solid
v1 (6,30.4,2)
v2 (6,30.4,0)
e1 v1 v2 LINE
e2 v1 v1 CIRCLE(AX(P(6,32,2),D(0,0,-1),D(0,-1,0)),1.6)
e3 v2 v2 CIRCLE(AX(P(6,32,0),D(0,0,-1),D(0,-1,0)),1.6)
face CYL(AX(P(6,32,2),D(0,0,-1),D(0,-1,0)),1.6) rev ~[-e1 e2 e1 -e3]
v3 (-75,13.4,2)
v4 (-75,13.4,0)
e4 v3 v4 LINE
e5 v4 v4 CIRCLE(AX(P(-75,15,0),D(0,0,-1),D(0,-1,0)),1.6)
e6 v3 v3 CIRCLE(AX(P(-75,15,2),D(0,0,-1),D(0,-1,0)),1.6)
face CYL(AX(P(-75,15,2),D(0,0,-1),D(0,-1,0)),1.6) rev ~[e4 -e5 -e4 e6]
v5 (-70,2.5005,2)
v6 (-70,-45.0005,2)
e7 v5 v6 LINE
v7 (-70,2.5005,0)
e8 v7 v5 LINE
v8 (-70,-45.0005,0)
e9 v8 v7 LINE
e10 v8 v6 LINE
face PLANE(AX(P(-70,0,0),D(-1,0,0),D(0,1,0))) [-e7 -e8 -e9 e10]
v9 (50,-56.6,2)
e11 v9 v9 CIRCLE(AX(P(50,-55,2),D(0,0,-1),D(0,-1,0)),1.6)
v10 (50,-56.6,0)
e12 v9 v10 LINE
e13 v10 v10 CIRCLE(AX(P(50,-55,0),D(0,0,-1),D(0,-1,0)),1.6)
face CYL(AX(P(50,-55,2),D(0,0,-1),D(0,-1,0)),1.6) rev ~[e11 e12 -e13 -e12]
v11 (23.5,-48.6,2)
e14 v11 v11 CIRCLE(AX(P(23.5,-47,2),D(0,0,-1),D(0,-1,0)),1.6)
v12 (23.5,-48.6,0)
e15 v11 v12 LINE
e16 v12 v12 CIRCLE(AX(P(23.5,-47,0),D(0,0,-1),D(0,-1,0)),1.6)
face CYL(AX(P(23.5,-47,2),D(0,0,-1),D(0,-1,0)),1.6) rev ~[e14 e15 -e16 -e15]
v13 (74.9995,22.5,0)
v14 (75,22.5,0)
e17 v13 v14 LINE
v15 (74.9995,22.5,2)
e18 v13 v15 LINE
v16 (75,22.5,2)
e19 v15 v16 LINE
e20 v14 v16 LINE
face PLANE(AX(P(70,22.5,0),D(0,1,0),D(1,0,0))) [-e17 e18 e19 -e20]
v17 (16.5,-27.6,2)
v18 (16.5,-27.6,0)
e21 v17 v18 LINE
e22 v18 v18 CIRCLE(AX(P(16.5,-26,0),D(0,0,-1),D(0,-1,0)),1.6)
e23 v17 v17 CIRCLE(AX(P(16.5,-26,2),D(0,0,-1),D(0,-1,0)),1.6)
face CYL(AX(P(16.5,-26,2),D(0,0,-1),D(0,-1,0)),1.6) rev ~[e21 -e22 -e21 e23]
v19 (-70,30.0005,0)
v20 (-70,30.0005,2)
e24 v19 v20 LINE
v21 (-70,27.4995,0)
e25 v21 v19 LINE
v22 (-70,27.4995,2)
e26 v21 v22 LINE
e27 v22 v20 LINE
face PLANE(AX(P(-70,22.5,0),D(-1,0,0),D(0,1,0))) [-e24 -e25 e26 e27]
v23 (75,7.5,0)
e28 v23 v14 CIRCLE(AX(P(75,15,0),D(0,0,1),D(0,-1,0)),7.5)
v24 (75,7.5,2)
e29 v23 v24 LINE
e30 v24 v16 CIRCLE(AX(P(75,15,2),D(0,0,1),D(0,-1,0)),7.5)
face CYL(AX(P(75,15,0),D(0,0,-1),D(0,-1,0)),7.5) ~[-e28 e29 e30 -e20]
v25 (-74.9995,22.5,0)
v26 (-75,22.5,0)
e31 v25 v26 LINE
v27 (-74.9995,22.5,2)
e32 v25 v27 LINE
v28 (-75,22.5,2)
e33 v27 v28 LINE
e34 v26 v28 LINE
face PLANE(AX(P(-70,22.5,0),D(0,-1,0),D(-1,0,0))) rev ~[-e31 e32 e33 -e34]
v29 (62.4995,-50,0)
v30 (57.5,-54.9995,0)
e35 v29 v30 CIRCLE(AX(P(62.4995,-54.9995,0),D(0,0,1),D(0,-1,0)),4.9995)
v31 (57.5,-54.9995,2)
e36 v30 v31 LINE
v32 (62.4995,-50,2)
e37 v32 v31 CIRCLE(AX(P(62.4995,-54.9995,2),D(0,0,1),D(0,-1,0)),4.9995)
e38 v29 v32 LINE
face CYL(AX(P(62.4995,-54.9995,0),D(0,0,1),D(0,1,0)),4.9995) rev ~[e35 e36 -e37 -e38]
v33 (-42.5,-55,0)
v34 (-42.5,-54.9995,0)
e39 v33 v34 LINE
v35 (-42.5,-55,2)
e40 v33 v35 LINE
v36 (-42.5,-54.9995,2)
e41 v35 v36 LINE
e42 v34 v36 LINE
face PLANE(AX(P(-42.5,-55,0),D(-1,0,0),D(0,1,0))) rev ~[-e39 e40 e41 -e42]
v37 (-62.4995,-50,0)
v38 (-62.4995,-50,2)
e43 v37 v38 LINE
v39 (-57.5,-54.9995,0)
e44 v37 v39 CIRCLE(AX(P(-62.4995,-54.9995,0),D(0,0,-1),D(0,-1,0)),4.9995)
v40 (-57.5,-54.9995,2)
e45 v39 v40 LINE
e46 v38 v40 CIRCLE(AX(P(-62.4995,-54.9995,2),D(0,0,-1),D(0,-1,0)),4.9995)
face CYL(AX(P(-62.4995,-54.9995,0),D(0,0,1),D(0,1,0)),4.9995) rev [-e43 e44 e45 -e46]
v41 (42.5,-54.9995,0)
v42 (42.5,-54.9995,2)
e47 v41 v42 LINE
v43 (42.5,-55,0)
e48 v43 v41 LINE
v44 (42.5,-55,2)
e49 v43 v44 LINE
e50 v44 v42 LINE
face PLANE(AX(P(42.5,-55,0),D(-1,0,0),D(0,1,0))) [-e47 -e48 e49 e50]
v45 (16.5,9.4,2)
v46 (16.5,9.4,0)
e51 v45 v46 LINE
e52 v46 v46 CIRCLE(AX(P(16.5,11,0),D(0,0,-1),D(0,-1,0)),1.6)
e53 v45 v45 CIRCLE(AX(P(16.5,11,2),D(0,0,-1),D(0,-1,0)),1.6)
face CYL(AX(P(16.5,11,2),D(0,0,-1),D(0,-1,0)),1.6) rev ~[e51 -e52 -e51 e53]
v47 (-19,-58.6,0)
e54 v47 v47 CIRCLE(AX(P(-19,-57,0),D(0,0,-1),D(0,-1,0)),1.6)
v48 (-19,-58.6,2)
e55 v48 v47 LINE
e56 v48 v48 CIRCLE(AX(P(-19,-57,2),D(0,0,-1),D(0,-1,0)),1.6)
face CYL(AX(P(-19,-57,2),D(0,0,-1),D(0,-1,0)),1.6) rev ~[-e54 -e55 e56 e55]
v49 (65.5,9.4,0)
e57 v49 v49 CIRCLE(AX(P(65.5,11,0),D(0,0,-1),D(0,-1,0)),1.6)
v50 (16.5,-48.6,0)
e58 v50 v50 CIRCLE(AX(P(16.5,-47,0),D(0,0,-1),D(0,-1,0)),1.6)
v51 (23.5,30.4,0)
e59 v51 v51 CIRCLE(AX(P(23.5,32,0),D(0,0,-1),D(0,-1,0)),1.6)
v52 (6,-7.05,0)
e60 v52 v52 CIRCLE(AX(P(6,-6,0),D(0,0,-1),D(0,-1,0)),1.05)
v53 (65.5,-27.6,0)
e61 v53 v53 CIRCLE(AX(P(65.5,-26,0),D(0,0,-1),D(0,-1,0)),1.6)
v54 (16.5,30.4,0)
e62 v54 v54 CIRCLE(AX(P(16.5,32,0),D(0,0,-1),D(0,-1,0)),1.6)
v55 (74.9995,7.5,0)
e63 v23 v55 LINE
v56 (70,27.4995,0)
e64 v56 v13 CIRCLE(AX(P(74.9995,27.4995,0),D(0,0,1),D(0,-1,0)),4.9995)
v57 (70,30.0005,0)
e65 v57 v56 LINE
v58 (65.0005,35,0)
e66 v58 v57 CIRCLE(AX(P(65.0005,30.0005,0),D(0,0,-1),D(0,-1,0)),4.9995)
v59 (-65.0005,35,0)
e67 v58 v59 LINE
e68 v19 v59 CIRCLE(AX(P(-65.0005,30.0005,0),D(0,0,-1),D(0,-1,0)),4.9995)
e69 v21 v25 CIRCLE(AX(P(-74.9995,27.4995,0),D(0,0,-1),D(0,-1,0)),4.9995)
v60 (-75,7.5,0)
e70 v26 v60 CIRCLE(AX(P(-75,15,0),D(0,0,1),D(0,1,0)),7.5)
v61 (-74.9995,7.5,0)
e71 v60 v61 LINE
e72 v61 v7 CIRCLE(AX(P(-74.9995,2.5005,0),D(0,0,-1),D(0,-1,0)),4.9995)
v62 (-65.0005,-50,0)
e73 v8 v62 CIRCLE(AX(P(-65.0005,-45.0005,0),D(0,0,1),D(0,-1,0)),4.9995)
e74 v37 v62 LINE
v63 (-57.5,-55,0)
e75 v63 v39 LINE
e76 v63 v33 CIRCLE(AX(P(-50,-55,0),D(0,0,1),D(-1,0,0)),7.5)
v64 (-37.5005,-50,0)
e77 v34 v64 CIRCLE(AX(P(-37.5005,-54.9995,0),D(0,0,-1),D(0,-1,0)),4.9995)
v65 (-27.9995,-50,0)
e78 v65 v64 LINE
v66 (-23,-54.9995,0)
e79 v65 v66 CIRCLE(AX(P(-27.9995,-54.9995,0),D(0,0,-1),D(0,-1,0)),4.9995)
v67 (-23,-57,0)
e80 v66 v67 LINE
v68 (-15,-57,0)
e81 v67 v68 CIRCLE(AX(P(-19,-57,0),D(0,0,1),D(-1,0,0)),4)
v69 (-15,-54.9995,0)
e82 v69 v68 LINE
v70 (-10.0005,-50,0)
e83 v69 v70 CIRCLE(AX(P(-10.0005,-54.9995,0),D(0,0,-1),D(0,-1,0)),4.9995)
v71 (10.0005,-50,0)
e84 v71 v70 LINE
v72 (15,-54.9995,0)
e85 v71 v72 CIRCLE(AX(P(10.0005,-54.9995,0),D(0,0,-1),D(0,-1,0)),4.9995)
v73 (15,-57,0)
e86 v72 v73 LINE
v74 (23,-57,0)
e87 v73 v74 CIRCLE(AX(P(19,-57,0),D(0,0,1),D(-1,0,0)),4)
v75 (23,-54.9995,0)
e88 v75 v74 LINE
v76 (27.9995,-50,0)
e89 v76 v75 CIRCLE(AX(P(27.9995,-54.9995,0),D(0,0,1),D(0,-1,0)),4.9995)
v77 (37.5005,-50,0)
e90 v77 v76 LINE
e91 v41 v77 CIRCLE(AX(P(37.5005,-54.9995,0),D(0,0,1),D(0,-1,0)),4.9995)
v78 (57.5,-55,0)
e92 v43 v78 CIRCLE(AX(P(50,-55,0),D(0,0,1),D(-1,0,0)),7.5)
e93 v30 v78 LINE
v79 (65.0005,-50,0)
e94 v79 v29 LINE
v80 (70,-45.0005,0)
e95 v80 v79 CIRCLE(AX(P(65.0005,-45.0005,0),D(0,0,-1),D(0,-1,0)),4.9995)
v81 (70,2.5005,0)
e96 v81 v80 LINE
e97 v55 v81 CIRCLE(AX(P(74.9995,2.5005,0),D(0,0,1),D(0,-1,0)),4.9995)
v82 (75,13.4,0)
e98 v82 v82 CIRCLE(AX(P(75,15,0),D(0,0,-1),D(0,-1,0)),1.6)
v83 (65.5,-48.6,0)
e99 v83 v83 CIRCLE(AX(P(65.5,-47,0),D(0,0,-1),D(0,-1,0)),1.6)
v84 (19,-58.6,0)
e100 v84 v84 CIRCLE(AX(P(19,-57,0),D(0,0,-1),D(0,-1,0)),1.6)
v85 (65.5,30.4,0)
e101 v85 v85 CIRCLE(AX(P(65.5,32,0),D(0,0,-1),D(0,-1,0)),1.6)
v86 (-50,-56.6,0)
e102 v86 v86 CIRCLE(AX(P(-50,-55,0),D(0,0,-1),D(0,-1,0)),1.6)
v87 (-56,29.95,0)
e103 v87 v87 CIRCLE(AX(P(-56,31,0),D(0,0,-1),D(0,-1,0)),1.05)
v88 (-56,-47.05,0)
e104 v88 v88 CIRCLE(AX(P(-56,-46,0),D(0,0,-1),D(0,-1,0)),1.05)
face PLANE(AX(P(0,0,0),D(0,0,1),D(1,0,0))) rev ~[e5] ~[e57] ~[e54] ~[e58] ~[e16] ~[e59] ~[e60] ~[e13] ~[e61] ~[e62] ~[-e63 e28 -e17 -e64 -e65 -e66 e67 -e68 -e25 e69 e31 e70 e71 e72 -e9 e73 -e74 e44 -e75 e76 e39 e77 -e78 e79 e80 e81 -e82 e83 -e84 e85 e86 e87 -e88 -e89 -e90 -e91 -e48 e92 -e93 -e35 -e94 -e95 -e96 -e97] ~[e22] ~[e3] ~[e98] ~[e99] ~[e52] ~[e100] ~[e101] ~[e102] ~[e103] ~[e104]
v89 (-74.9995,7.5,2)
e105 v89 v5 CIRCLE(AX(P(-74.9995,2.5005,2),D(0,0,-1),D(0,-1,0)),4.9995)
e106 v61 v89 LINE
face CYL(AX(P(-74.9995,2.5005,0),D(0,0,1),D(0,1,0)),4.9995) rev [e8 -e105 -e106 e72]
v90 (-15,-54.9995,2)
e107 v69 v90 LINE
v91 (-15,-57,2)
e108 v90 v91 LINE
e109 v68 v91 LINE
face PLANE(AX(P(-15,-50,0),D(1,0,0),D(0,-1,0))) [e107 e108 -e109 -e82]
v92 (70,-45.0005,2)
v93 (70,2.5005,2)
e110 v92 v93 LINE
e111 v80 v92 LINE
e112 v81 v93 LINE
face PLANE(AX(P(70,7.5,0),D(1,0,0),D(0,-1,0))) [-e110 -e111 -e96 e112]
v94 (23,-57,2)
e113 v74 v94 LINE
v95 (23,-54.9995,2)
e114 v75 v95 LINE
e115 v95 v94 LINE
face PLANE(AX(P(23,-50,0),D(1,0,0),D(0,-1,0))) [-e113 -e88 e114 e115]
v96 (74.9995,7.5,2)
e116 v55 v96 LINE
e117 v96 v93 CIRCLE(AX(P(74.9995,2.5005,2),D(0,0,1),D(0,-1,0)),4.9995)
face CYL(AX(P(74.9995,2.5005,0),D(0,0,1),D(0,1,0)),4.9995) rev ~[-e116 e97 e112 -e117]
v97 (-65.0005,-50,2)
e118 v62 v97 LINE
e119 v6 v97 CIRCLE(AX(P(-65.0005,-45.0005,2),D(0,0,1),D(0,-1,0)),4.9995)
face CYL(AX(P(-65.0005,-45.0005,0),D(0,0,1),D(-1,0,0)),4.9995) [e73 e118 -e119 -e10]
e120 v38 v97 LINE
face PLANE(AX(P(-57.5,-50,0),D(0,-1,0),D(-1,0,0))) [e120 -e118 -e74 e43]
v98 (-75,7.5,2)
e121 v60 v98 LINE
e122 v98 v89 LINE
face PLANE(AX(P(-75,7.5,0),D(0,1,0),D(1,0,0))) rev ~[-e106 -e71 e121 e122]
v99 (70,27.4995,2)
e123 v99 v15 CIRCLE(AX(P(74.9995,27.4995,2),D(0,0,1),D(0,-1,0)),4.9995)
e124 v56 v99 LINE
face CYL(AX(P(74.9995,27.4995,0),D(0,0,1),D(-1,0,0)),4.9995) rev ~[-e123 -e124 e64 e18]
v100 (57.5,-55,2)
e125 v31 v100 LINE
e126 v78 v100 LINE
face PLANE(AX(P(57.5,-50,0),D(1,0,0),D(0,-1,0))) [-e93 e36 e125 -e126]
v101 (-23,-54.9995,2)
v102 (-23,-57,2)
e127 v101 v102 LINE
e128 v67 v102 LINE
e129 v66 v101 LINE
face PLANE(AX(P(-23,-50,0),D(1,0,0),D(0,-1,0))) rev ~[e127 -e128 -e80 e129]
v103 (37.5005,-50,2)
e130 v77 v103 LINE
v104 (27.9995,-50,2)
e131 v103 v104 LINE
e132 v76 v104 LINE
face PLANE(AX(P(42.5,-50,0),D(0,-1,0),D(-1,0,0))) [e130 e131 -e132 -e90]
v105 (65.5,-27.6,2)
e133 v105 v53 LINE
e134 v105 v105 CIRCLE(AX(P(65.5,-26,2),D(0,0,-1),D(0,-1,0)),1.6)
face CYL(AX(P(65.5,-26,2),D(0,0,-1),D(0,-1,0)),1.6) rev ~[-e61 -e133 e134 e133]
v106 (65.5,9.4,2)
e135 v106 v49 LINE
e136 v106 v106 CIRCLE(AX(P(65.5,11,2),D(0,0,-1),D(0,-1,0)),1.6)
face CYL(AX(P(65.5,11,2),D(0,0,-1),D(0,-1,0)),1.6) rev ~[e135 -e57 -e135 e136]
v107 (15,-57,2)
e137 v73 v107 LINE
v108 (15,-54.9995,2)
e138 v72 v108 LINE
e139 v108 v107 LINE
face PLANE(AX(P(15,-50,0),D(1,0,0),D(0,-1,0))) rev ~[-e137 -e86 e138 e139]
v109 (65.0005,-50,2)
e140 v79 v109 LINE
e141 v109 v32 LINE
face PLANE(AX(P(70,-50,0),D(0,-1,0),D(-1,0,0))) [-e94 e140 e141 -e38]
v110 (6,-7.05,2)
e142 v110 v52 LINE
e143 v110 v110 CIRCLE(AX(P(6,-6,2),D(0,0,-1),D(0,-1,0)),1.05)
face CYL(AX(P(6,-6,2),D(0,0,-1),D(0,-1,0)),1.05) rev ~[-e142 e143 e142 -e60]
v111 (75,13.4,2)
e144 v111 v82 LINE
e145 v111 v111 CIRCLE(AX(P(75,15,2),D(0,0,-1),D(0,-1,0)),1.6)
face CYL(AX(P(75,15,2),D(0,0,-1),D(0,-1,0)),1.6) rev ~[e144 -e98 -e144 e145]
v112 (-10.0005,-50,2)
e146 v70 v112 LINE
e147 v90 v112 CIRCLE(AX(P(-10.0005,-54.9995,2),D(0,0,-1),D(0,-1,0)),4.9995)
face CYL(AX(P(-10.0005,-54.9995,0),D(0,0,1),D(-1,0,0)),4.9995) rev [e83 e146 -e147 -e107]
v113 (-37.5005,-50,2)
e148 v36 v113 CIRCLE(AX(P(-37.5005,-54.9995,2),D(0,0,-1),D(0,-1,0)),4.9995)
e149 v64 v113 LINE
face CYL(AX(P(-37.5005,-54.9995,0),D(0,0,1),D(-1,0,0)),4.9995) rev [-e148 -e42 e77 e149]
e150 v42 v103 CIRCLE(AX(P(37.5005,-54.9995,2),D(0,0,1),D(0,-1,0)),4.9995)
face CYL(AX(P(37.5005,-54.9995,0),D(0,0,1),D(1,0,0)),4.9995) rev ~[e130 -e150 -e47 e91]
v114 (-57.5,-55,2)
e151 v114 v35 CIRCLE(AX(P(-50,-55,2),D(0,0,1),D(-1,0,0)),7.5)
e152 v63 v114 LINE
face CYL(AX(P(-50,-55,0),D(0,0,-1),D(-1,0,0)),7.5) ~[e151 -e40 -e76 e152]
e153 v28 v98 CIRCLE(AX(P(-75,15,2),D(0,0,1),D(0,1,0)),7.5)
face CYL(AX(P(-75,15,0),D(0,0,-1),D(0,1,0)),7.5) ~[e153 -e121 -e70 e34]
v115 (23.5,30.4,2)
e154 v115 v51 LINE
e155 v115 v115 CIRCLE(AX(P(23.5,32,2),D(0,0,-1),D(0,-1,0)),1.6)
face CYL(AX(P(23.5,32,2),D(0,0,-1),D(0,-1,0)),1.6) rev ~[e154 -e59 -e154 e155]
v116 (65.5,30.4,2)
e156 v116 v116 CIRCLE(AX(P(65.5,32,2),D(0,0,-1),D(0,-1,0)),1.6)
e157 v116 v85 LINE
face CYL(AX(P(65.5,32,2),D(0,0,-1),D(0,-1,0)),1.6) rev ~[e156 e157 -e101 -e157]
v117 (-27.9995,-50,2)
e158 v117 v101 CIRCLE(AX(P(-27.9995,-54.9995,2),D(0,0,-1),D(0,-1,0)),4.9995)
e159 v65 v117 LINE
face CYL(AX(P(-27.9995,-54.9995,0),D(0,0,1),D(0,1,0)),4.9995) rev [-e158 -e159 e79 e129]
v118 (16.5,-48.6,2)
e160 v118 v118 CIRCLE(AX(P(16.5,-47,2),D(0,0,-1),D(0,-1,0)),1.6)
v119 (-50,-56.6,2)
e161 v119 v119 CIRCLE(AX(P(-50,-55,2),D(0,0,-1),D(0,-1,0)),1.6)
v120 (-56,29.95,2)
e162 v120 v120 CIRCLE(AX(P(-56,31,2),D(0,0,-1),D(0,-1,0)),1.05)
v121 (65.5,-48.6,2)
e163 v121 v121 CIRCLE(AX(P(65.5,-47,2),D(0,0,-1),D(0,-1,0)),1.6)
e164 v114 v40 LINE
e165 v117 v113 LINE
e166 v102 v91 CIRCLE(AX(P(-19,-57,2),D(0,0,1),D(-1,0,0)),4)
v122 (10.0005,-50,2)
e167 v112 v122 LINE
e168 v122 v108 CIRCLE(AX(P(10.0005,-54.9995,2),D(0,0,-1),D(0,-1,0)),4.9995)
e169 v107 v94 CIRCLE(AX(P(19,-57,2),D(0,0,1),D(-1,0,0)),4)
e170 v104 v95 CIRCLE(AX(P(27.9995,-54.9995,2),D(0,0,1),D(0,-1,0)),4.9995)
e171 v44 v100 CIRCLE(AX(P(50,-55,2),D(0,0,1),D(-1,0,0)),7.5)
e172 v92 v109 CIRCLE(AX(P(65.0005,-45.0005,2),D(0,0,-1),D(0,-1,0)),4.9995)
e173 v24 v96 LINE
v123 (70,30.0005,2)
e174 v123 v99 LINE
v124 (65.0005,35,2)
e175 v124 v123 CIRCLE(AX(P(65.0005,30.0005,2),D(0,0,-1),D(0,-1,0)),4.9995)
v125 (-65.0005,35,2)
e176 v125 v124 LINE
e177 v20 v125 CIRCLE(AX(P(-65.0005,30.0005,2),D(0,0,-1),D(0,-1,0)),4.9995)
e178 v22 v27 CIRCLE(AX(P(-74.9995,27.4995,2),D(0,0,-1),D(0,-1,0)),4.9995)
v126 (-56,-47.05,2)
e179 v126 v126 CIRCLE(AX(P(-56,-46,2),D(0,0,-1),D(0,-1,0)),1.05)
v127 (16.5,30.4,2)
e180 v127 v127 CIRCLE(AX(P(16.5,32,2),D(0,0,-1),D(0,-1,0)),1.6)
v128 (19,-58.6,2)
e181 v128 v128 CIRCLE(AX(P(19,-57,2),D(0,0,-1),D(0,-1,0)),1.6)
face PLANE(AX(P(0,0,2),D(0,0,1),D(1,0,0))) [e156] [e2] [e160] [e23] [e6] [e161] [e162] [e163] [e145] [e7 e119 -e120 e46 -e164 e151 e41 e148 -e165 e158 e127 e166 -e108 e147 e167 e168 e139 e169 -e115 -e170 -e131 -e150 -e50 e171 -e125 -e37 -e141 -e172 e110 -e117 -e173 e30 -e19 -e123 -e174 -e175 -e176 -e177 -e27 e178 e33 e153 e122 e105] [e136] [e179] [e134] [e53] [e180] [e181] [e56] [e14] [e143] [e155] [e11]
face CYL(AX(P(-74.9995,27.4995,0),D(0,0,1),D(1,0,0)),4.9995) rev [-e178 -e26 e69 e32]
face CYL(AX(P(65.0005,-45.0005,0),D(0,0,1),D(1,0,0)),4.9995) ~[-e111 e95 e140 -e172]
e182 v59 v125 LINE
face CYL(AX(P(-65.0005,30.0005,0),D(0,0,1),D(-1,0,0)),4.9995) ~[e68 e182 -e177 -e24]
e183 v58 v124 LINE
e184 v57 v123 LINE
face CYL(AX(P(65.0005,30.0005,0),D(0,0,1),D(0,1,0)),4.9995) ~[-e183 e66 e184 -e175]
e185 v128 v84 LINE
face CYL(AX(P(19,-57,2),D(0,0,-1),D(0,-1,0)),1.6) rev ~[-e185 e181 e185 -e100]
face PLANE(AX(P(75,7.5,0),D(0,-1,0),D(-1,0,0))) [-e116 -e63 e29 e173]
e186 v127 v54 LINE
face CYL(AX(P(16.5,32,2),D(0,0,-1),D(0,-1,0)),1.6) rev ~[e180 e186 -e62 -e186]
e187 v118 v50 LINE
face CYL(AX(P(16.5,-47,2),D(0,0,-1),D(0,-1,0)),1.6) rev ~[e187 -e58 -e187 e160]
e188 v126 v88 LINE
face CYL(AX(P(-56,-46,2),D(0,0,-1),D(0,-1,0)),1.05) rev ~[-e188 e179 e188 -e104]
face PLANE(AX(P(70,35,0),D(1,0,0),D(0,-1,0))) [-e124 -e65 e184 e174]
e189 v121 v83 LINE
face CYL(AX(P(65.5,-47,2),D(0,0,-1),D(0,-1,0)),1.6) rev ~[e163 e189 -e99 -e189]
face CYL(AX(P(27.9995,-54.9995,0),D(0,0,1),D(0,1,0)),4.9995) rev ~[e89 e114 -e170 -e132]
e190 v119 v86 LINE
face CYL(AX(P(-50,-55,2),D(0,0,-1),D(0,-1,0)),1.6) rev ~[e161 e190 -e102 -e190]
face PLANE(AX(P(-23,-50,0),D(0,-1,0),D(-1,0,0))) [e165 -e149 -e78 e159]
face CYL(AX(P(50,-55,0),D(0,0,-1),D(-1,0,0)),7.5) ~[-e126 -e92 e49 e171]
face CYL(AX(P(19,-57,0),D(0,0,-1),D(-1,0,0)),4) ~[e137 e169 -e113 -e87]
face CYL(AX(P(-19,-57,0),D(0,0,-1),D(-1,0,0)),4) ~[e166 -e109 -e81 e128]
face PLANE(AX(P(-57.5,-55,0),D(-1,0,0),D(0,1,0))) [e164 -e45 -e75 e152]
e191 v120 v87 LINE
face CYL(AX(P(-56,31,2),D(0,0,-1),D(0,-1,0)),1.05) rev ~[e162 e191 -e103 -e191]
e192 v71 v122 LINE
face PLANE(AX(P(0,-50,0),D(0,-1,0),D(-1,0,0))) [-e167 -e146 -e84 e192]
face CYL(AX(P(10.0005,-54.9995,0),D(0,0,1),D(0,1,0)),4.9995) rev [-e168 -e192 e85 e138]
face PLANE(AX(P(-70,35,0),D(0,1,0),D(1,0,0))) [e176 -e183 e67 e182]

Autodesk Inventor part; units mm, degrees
ref_plane "YZ Plane" through (0, 0, 0) normal (1, 0, 0) x (0, 1, 0)
ref_plane "XZ Plane" through (0, 0, 0) normal (0, 1, 0) x (-1, 0, 0)
ref_plane "XY Plane" through (0, 0, 0) normal (0, 0, 1) x (1, 0, 0)
sketch "Skizze1" plane through (0, 0, 0) normal (0, 0, 1) x (1, 0, 0)
  line L0 (-70, 22.5) -> (-75, 22.5)
  line L1 (-75, 7.5) -> (-70, 7.5)
  line L2 (70, 22.5) -> (75, 22.5)
  line L3 (75, 7.5) -> (70, 7.5)
  arc A0 (-75, 22.5) -> (-75, 7.5) centre (-75, 15) ccw
  arc A1 (-57.5, -55) -> (-42.5, -55) centre (-50, -55) ccw
  arc A2 (75, 7.5) -> (75, 22.5) centre (75, 15) ccw
  arc A3 (42.5, -55) -> (57.5, -55) centre (50, -55) ccw
  line L4 (-70, 22.5) -> (-70, 35)
  line L5 (-70, -50) -> (-70, 7.5)
  line L6 (70, 35) -> (70, 22.5)
  line L7 (70, 7.5) -> (70, -50)
  line L8 (0, 54.5) -> (0, -82) projected
  line L9 (-115.5, 0) -> (115.5, 0) projected
  line L10 (-70, 35) -> (70, 35)
  line L11 (23, -50) -> (23, -57)
  line L12 (15, -50) -> (15, -57)
  line L13 (-15, -50) -> (-15, -57)
  line L14 (-23, -50) -> (-23, -57)
  arc A4 (15, -57) -> (23, -57) centre (19, -57) ccw
  arc A5 (-23, -57) -> (-15, -57) centre (-19, -57) ccw
  line L15 (15, -50) -> (-15, -50)
  line L16 (57.5, -50) -> (57.5, -55)
  line L17 (42.5, -55) -> (42.5, -50)
  line L18 (-42.5, -55) -> (-42.5, -50)
  line L19 (-57.5, -55) -> (-57.5, -50)
  line L20 (70, -50) -> (57.5, -50)
  line L21 (42.5, -50) -> (23, -50)
  line L22 (-23, -50) -> (-42.5, -50)
  line L23 (-57.5, -50) -> (-70, -50)
  point P0 (0, 0)
  dimension "d0" = 85
  dimension "d2" = 15
  dimension "d6" = 75
  dimension "d21" = 15
  dimension "d71" = 35
  dimension "d72" = 70
  dimension "d73" = 7
  dimension "d74" = 38
  dimension "d75" = 8
  dimension "d90" = 15
  dimension "d91" = 55
  dimension "d92" = 50
extrude "Extrusion1" add sketch "Skizze1" along normal blind 2
sketch "Skizze2" plane through (0, 0, 2) normal (0, 0, 1) x (1, 0, 0)
  arc A0 (-75, 22.5) -> (-75, 7.5) centre (-75, 15) ccw projected
  arc A1 (-57.5, -55) -> (-42.5, -55) centre (-50, -55) ccw projected
  arc A2 (75, 7.5) -> (75, 22.5) centre (75, 15) ccw projected
  arc A3 (42.5, -55) -> (57.5, -55) centre (50, -55) ccw projected
  point P0 (0, 0)
hole "Montage" at (-75, 15, 2) at (75, 15, 2) at (50, -55, 2) at (-50, -55, 2) direction (0, 0, -1) diameter 3.2 end through all
fillet "Rundung1" radius 5 16 edges at (-70, 7.5, 1) (-70, 35, 1) (-70, -50, 1) (-70, 22.5, 1) (70, 35, 1) (70, 22.5, 1) (70, 7.5, 1) (70, -50, 1) (23, -50, 1) (15, -50, 1) (-15, -50, 1) (-23, -50, 1) (57.5, -50, 1) (42.5, -50, 1) (-57.5, -50, 1) (-42.5, -50, 1)
sketch "Skizze3" plane through (0, 0, 2) normal (0, 0, 1) x (1, 0, 0)
  line L0 (0, 54.5) -> (0, -82) projected
  line L1 (-115.5, 0) -> (115.5, 0) projected
  line L2 (65.5, -26) -> (16.5, -26) construction
  line L3 (16.5, -26) -> (16.5, 32) construction
  line L4 (16.5, 32) -> (65.5, 32) construction
  line L5 (65.5, 32) -> (65.5, -26) construction
  line L6 (16.5, -47) -> (65.5, -47) construction
  line L7 (65.5, -47) -> (65.5, 11) construction
  line L8 (65.5, 11) -> (16.5, 11) construction
  line L9 (16.5, 11) -> (16.5, -47) construction
  point P0 (0, 0)
  dimension "d23" = 49
  dimension "d24" = 58
  dimension "d25" = 32
  dimension "d26" = 16.5
  dimension "d94" = 49
  dimension "d95" = 58
  dimension "d97" = 47
hole "RPi" at (65.5, -26, 2) at (16.5, -26, 2) at (65.5, 32, 2) at (16.5, 32, 2) at (16.5, 11, 2) at (65.5, 11, 2) at (65.5, -47, 2) at (16.5, -47, 2) direction (0, 0, -1) diameter 3.2 end through all
sketch "Skizze4" plane through (0, 0, 2) normal (0, 0, 1) x (1, 0, 0)
  circle A0 centre (65.5, 32) radius 1.6 projected
  line L0 (65.5, 32) -> (23.5, 32) construction
  line L1 (23.5, 32) -> (23.5, -47) construction
  line L2 (23.5, -47) -> (65.5, -47) construction
  line L3 (65.5, -47) -> (65.5, 32) construction
  point P0 (0, 0)
  dimension "d34" = 42
  dimension "d35" = 79
hole "Jetson" at (65.5, -47, 2) at (23.5, -47, 2) at (23.5, 32, 2) direction (0, 0, -1) diameter 3.2 end through all
sketch "Skizze6" plane through (0, 0, 2) normal (0, 0, 1) x (1, 0, 0)
  line L0 (0, 54.5) -> (0, -82) projected
  line L1 (-115.5, 0) -> (115.5, 0) projected
  line L2 (62.5, -50) -> (65, -50) construction
  line L3 (65, 35) -> (-65, 35) construction
  arc A0 (15, -57) -> (23, -57) centre (19, -57) ccw projected
  arc A1 (-23, -57) -> (-15, -57) centre (-19, -57) ccw projected
  point P0 (0, 0)
  point P1 (6, 32)
  point P2 (-65, -50)
  point P3 (23, -50)
  point P4 (28, -50)
  point P5 (57.5, -50)
  dimension "d61" = 3
  dimension "d63" = 6
hole "Kameras oben" at (19, -57, 2) at (6, 32, 2) at (-19, -57, 2) direction (0, 0, -1) diameter 3.2 end through all
sketch "Skizze7" plane through (0, 0, 2) normal (0, 0, 1) x (1, 0, 0)
  line L0 (0, 54.5) -> (0, -82) projected
  line L1 (-115.5, 0) -> (115.5, 0) projected
  point P0 (0, 0)
  point P1 (-56, 31)
  point P2 (-56, -46)
  point P3 (6, -6)
  dimension "d76" = 56
  dimension "d78" = 56
  dimension "d79" = 46
  dimension "d81" = 31
  dimension "d89" = 6
  dimension "d93" = 6
hole "Mainboard" at (-56, 31, 2) at (-56, -46, 2) at (6, -6, 2) direction (0, 0, -1) diameter 2.1 end through all
properties part number "Oberplatte" material "Aluminium 6061"
